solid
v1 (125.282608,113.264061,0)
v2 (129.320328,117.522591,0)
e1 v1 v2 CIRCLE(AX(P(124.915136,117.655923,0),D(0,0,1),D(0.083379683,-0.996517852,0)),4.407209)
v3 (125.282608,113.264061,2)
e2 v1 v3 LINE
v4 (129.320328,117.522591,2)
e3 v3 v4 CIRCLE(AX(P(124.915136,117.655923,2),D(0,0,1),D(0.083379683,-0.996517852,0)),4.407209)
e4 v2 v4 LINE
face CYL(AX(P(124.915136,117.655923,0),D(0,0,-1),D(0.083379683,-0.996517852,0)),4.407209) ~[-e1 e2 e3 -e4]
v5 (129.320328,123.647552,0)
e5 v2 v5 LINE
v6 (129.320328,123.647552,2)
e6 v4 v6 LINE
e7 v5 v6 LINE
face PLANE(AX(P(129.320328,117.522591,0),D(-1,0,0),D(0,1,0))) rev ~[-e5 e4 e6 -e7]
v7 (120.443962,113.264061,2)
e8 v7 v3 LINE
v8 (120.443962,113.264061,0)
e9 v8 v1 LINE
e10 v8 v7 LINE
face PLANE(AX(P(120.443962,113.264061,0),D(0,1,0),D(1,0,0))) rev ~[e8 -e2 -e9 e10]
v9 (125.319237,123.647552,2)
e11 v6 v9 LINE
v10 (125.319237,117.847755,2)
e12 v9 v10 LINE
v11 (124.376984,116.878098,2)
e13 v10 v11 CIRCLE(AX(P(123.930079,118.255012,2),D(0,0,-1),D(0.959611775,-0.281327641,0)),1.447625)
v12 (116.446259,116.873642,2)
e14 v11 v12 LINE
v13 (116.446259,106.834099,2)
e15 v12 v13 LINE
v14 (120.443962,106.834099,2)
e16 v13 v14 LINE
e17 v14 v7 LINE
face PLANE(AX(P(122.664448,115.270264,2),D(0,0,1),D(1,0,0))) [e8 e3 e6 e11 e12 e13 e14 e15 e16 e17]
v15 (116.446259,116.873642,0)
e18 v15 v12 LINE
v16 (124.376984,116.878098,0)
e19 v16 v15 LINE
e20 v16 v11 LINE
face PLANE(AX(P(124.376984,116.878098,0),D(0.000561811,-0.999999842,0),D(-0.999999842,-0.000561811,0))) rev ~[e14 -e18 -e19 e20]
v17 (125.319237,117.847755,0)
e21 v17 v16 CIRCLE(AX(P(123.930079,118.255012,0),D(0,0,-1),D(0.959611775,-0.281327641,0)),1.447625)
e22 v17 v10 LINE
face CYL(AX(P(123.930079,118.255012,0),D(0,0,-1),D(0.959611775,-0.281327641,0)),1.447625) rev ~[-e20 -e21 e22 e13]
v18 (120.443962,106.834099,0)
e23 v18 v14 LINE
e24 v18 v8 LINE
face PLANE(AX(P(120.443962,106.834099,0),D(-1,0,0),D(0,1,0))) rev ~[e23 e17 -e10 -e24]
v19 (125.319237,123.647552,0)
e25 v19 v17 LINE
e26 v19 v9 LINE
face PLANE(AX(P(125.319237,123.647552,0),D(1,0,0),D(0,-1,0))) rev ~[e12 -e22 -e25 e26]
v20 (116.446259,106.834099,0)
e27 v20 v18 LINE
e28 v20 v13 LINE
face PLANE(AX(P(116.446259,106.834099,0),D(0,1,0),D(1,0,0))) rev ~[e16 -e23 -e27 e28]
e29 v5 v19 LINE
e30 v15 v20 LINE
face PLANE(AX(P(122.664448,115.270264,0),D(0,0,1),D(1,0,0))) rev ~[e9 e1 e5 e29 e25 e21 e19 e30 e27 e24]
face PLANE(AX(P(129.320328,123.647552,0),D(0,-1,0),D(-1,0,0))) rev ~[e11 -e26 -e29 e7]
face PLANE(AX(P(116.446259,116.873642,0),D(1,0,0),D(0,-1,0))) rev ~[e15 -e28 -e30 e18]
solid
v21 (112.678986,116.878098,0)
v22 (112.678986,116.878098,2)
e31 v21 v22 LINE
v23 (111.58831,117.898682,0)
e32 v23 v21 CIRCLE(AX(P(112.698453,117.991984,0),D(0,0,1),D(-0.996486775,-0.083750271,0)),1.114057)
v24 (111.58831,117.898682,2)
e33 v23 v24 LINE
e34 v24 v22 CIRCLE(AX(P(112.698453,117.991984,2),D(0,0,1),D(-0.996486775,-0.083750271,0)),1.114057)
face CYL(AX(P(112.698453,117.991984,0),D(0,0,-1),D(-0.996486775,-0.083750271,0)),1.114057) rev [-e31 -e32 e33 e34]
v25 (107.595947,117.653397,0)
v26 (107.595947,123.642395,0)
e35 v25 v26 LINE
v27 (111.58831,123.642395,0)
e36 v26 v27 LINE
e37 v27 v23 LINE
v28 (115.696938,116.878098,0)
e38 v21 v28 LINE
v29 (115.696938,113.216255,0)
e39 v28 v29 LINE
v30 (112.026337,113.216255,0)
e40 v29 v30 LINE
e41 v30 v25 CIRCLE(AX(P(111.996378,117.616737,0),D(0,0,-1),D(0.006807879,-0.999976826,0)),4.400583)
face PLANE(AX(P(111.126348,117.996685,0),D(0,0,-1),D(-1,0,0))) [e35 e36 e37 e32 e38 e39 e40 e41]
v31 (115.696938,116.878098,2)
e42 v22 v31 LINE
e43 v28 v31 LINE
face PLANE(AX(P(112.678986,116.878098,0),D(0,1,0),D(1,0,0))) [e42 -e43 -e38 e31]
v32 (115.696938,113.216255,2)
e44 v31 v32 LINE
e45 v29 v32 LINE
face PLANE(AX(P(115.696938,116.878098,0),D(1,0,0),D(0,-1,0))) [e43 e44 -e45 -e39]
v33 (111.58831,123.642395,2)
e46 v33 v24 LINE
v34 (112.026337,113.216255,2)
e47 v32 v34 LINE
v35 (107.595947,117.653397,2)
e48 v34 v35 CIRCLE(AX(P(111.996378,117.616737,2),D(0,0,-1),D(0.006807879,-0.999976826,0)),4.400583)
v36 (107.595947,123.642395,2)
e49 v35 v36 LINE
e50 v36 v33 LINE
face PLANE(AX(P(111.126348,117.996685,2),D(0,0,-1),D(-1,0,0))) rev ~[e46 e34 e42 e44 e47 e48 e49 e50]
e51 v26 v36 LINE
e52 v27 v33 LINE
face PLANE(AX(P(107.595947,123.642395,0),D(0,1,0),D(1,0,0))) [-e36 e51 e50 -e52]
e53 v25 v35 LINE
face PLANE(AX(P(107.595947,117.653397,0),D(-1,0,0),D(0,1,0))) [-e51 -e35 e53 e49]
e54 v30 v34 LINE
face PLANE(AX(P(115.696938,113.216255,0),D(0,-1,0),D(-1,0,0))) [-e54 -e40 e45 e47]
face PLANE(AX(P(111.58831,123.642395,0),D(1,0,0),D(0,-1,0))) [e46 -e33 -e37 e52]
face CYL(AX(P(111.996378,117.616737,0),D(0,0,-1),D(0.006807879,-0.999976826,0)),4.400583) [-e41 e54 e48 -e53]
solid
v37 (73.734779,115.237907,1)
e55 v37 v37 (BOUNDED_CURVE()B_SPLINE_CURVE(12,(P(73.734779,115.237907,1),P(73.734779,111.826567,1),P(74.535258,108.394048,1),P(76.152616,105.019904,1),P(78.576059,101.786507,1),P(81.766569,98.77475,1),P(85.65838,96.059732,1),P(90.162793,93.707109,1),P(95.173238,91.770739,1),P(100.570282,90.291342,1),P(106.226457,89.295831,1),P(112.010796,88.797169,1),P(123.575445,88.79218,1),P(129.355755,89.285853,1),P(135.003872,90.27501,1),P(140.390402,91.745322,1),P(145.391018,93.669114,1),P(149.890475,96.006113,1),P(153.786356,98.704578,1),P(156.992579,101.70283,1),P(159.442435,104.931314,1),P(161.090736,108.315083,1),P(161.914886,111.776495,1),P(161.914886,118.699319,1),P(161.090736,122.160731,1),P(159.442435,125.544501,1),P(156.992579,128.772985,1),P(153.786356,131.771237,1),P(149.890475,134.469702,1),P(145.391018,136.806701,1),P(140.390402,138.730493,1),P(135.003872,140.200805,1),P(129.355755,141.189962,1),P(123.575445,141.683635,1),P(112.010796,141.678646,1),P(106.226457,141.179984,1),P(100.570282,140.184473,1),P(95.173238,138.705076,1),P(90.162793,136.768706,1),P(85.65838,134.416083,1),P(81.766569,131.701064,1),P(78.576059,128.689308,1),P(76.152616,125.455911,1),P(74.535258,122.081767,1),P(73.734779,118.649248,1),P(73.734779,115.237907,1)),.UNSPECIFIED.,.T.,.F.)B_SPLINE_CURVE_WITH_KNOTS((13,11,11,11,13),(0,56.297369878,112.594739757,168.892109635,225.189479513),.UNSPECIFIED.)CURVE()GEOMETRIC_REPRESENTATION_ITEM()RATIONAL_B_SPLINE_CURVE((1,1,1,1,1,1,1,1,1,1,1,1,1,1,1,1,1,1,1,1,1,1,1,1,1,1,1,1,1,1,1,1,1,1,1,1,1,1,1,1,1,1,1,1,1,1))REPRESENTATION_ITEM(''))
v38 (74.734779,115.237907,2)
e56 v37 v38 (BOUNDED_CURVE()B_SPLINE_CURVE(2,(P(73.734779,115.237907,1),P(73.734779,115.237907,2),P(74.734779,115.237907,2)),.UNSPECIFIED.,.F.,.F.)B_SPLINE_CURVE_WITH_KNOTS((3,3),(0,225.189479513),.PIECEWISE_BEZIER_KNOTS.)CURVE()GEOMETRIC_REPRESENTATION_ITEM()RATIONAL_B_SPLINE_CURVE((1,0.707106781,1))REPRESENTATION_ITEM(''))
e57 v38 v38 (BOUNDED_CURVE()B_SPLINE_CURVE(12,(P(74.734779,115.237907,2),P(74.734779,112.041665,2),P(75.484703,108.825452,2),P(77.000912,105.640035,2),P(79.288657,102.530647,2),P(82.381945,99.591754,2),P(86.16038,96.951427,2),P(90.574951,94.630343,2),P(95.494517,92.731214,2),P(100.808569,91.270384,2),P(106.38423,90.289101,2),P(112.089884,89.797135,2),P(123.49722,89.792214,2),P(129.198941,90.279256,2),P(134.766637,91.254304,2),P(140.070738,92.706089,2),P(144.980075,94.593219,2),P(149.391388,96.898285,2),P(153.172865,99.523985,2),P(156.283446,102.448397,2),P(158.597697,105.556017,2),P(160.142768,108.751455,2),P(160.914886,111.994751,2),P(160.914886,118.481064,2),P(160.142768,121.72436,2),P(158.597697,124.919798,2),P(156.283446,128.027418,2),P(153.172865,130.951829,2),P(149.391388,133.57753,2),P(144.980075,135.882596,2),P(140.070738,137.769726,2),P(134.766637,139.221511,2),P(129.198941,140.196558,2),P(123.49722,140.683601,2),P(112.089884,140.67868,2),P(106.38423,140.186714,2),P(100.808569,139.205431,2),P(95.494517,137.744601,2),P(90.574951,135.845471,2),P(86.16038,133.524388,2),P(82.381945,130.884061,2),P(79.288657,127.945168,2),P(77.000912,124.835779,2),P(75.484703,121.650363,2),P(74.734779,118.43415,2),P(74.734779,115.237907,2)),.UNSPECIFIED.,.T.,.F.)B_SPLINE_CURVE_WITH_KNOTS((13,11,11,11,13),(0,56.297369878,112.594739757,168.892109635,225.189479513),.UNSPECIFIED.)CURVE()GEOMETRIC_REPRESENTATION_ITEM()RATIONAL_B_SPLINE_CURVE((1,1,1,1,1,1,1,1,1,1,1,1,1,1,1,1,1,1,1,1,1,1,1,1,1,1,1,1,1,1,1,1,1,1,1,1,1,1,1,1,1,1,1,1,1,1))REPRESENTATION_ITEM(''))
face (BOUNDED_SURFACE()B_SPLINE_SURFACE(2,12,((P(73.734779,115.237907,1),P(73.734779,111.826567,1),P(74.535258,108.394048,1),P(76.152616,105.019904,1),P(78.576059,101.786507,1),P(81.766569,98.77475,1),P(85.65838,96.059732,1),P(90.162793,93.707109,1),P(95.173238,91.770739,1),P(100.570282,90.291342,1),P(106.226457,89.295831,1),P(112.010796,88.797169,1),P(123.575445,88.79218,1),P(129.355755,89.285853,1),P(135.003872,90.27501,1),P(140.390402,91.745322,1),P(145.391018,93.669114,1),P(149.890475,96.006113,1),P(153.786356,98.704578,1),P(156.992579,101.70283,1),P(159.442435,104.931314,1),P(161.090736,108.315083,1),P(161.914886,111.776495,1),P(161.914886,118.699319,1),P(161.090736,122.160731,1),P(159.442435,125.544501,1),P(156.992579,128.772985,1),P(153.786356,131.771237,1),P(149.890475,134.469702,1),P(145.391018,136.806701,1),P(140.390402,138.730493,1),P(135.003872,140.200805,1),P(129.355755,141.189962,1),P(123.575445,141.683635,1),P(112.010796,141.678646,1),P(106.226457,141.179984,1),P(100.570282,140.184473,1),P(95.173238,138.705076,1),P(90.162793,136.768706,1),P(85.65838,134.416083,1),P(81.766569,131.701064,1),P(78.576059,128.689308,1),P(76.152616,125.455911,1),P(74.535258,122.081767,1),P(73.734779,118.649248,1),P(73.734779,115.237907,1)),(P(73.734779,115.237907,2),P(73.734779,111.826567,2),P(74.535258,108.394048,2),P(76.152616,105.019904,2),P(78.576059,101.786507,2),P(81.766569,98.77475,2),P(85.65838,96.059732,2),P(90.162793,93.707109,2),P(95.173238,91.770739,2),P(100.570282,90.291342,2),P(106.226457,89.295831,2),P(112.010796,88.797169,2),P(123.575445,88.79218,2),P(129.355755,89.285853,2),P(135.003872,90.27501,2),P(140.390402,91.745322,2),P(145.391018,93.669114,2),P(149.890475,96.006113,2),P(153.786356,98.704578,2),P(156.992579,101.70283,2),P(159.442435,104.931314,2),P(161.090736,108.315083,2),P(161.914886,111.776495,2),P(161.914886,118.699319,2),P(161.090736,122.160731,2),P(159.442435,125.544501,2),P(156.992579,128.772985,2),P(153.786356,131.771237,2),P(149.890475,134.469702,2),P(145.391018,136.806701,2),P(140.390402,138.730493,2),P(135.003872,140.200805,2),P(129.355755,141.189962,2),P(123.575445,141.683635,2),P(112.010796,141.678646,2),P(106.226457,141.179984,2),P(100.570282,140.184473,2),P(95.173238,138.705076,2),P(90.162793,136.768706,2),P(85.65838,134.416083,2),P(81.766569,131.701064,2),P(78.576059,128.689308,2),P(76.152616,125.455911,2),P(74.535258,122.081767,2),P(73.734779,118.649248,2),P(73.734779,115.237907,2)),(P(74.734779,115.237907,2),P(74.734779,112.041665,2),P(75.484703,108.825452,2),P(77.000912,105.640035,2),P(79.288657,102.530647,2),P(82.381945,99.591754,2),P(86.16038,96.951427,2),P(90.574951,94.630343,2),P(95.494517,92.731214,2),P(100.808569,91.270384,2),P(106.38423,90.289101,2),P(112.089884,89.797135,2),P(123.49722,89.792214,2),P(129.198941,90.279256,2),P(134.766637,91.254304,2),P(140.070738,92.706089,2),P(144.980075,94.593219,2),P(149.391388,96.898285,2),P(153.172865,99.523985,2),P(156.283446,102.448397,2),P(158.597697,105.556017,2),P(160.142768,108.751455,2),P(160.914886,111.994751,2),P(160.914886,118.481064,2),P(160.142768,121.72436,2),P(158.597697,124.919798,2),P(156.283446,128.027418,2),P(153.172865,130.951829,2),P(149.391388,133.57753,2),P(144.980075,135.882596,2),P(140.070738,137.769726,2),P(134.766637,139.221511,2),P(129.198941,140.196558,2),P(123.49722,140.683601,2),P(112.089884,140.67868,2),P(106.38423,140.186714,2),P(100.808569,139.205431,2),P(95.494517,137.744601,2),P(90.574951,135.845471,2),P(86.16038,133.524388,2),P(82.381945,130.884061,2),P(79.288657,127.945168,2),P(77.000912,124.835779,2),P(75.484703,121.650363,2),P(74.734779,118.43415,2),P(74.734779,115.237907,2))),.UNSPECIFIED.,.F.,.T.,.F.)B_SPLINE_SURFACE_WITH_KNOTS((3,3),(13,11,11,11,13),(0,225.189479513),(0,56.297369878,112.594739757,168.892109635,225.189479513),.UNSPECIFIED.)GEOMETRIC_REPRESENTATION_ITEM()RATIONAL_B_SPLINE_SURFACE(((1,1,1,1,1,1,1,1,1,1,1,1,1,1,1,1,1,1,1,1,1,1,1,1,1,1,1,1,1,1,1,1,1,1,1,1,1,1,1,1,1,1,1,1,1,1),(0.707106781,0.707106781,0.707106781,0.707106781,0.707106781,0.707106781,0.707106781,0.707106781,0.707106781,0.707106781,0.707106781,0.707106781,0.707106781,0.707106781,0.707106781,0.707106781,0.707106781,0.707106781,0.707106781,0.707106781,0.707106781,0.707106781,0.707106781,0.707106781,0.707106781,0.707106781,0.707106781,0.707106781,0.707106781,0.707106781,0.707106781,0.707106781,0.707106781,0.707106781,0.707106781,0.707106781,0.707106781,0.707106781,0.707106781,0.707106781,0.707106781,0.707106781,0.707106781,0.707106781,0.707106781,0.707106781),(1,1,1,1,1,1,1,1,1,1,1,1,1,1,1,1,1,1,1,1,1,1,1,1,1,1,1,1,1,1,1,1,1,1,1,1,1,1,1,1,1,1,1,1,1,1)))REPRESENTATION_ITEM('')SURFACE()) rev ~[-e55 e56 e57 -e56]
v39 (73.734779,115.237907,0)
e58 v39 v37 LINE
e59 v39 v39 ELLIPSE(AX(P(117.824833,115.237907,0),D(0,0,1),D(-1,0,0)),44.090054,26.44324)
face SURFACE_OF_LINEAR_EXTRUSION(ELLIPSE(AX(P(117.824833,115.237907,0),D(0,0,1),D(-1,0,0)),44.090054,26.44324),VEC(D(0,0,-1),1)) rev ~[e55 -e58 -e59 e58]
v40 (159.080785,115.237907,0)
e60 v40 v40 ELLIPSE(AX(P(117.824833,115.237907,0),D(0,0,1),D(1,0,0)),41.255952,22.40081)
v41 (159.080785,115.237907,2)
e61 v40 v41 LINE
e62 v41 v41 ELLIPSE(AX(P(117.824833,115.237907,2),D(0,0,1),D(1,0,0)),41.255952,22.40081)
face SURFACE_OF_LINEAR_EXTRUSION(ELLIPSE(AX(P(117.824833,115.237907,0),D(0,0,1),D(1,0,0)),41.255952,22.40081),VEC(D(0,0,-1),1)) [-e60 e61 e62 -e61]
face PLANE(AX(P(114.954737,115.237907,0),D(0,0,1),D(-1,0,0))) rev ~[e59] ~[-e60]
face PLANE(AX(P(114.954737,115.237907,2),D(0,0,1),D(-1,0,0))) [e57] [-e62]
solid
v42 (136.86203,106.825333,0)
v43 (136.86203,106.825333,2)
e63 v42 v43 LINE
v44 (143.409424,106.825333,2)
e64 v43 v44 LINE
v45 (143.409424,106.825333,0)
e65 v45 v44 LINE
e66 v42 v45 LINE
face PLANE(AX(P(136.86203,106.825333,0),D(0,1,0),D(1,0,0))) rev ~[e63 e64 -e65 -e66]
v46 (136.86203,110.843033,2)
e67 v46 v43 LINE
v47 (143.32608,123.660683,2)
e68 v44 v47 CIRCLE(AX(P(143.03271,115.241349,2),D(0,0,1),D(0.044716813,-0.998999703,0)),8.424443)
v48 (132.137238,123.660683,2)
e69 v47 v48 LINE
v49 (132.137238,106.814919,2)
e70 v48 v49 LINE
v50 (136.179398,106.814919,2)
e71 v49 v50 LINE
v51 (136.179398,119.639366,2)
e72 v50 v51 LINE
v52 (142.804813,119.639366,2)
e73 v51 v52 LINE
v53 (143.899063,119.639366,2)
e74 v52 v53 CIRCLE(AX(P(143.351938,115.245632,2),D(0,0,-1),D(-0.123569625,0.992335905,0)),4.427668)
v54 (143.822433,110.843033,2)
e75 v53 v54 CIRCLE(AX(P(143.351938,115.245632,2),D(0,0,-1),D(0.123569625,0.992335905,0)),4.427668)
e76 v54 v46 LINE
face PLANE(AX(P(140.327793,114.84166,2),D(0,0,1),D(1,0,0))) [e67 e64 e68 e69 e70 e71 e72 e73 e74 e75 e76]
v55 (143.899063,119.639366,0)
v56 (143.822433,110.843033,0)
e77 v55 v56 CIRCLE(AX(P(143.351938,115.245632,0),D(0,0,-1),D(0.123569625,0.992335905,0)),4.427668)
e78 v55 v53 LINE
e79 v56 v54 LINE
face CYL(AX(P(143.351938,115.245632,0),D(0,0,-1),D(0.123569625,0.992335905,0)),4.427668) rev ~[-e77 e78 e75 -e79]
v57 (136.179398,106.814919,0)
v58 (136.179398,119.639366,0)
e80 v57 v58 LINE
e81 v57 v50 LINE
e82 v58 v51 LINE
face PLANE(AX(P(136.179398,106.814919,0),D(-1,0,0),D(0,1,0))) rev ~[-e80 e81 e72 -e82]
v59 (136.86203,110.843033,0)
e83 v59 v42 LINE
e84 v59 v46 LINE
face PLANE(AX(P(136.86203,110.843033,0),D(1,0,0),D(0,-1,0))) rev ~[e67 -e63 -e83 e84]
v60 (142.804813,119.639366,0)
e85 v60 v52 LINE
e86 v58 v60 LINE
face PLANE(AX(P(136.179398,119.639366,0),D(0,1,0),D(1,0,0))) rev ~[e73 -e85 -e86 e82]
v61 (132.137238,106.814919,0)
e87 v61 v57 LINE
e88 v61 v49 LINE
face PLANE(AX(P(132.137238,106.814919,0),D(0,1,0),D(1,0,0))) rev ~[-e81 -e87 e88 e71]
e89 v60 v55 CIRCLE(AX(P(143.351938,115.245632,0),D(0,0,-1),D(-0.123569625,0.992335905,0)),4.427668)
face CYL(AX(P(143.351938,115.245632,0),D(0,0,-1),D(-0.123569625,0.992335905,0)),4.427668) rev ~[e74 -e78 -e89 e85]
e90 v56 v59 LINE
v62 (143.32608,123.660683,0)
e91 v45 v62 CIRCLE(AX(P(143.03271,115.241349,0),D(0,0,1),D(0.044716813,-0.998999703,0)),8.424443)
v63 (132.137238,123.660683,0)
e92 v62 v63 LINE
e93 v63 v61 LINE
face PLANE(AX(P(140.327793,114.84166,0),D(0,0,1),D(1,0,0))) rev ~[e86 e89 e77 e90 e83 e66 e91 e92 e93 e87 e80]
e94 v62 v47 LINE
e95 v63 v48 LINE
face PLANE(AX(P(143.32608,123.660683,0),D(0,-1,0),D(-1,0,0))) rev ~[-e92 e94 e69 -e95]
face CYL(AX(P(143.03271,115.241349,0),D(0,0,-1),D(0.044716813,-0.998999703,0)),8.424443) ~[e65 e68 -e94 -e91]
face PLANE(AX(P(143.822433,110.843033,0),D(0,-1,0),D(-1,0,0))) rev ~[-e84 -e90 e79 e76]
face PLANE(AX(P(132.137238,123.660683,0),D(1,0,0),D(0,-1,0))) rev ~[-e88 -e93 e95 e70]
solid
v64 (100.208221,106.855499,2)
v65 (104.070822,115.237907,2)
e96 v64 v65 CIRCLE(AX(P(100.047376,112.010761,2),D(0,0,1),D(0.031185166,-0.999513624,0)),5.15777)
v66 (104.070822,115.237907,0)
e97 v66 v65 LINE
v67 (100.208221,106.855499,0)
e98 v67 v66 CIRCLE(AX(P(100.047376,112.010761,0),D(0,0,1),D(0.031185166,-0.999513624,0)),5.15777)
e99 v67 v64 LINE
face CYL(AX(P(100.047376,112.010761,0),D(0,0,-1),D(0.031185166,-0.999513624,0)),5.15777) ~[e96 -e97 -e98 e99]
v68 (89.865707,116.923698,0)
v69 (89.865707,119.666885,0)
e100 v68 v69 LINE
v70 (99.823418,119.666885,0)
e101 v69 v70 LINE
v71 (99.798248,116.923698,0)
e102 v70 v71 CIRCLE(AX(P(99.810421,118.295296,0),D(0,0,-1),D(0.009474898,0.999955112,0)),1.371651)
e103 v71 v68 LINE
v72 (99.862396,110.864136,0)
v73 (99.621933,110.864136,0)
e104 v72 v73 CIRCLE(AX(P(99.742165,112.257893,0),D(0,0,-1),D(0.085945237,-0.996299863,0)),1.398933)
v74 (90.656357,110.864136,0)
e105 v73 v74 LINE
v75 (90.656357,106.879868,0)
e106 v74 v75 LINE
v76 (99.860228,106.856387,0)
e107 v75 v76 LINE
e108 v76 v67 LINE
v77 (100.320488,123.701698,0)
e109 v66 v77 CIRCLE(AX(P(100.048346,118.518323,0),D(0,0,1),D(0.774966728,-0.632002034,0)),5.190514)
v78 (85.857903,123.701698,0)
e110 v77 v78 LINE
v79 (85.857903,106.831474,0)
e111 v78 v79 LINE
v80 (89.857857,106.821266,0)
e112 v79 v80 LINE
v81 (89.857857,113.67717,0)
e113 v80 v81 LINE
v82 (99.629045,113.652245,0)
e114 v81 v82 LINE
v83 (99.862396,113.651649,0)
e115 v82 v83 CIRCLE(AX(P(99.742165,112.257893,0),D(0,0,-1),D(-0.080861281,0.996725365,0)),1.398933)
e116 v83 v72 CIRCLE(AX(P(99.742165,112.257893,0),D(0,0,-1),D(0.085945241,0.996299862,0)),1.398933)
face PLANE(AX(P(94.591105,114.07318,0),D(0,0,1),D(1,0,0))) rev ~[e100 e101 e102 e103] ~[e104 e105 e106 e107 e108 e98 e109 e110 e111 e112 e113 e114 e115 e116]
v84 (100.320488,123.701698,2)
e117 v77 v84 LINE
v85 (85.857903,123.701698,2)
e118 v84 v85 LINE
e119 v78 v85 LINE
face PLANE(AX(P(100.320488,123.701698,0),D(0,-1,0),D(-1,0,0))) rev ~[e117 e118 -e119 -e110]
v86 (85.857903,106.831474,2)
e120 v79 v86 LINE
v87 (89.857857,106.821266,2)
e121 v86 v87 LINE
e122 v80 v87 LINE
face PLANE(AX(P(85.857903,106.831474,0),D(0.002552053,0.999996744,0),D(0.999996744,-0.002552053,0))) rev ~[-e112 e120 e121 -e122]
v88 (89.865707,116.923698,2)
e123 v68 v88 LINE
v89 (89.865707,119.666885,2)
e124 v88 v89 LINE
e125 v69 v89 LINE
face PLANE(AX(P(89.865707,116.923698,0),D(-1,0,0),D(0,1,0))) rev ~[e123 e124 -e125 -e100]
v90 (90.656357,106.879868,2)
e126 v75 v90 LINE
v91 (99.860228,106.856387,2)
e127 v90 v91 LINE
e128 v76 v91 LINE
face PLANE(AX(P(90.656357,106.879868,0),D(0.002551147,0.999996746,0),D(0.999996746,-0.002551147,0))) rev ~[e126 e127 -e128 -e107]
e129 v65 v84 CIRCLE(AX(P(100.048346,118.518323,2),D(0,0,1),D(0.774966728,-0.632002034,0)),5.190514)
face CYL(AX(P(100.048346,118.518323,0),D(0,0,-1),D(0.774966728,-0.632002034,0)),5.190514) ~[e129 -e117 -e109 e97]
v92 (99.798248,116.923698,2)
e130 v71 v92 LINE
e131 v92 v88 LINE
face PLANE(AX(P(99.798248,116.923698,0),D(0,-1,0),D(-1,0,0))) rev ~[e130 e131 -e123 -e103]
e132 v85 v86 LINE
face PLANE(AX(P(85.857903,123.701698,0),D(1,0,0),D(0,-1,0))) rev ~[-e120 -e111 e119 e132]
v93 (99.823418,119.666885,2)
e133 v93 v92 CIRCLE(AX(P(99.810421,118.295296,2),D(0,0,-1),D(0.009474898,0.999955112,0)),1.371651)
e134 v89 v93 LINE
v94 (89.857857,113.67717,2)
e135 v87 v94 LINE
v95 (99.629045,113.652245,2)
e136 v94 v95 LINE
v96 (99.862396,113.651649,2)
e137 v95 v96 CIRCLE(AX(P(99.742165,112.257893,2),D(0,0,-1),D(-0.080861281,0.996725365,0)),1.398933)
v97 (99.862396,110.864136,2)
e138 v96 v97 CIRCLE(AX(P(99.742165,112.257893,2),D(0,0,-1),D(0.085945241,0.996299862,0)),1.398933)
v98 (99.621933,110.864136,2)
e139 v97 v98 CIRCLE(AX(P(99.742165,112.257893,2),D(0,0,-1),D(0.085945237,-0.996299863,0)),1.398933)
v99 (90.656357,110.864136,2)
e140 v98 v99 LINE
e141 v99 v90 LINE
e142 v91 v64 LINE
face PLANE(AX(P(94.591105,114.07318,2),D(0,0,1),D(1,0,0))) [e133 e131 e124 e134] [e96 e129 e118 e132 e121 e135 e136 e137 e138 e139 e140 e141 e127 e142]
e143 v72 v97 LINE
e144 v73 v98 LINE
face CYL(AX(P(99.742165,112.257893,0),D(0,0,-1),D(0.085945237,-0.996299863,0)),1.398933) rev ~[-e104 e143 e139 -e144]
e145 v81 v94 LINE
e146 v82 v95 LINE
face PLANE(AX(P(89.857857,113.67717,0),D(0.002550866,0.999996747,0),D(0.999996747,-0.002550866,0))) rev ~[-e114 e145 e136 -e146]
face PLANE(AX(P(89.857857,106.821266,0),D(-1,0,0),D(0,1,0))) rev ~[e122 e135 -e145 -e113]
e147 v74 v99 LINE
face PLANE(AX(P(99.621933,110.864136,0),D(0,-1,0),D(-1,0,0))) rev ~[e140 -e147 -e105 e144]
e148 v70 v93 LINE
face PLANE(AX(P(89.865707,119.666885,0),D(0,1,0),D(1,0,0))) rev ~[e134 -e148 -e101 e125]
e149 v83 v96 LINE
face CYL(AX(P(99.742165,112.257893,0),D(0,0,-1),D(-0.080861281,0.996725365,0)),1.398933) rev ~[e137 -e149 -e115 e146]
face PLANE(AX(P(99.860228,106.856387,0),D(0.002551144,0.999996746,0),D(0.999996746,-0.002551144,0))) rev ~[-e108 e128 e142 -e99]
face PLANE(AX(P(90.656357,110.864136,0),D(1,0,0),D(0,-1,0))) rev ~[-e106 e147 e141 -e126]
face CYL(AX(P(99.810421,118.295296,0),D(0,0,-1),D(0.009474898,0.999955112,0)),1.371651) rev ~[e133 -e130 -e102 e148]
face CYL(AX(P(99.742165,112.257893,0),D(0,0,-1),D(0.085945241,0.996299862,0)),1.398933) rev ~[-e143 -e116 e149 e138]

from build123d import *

# Parameters (mm, degrees)
SKETCH_3_RX       = 44.090053558
SKETCH_3_RY       = 26.443239621
SKETCH_3_RX_2     = 41.255952368
SKETCH_3_RY_2     = 22.400810242
EXTRUDE_1_DEPTH   = 2
EXTRUDE_1_2_DEPTH = 2
EXTRUDE_1_3_DEPTH = 2
EXTRUDE_1_4_DEPTH = 2
EXTRUDE_1_5_DEPTH = 2
FILLET_1_R        = 1


with BuildPart() as part:
    # 草图3 → 凸台-拉伸1 (new body)
    with BuildSketch(Plane.XY):
        with Locations(Location((117.824832916, 115.23790741), (0, 0, 180))):
            Ellipse(SKETCH_3_RX, SKETCH_3_RY)
        with Locations((117.824832916, 115.23790741)):
            Ellipse(SKETCH_3_RX_2, SKETCH_3_RY_2, mode=Mode.SUBTRACT)
    extrude(amount=EXTRUDE_1_DEPTH)

    # 圆角1
    fillet_1_edges = [part.edges().sort_by_distance(p)[0] for p in [
        (161.914770663, 115.298516103, 2),
    ]]
    fillet(fillet_1_edges, radius=FILLET_1_R)


with BuildPart() as body_2:
    # 草图3 → Extrude 1 2 (new body)
    with BuildSketch(Plane.XY):
        with BuildLine():
            Line((100.320487976, 123.701698303), (85.857902527, 123.701698303))
            Line((85.857902527, 123.701698303), (85.857902527, 106.831474304))
            Line((85.857902527, 106.831474304), (89.85785675, 106.821266174))
            Line((89.85785675, 106.821266174), (89.85785675, 113.6771698))
            Line((89.85785675, 113.6771698), (99.629045068, 113.652244725))
            ThreePointArc((99.629045068, 113.652244725), (99.745733087, 113.656821169), (99.86239624, 113.651649475))
            ThreePointArc((99.86239624, 113.651649475), (101.141097708, 112.257892609), (99.86239624, 110.864135742))
            ThreePointArc((99.86239624, 110.864135742), (99.742164596, 110.858959497), (99.621932952, 110.864135742))
            Line((99.621932952, 110.864135742), (90.656356812, 110.864135742))
            Line((90.656356812, 110.864135742), (90.656356812, 106.879867554))
            Line((90.656356812, 106.879867554), (99.860228116, 106.856387052))
            Line((99.860228116, 106.856387052), (100.208221436, 106.855499268))
            ThreePointArc((100.208221436, 106.855499268), (104.731739573, 109.852213429), (104.070821683, 115.23790741))
            ThreePointArc((104.070821683, 115.23790741), (104.793856796, 120.621074732), (100.320487976, 123.701698303))
        make_face()
        with BuildLine():
            Line((89.865707397, 116.923698425), (89.865707397, 119.666885376))
            Line((89.865707397, 119.666885376), (99.797425153, 119.666885376))
            Line((99.797425153, 119.666885376), (99.823417664, 119.666885376))
            ThreePointArc((99.823417664, 119.666885376), (101.182014946, 118.28271099), (99.798248291, 116.923698425))
            Line((99.798248291, 116.923698425), (89.865707397, 116.923698425))
        make_face(mode=Mode.SUBTRACT)
    extrude(amount=EXTRUDE_1_2_DEPTH)


with BuildPart() as body_3:
    # 草图3 → Extrude 1 3 (new body)
    with BuildSketch(Plane.XY):
        with BuildLine():
            ThreePointArc((111.588310242, 117.898681641), (111.937267918, 117.178522683), (112.678985596, 116.878097534))
            Line((112.678985596, 116.878097534), (115.696937561, 116.878097534))
            Line((115.696937561, 116.878097534), (115.696937561, 113.216255188))
            Line((115.696937561, 113.216255188), (112.02633667, 113.216255188))
            ThreePointArc((112.02633667, 113.216255188), (108.882327189, 114.5074245), (107.595947266, 117.653396606))
            Line((107.595947266, 117.653396606), (107.595947266, 123.64239502))
            Line((107.595947266, 123.64239502), (111.588310242, 123.64239502))
            Line((111.588310242, 123.64239502), (111.588310242, 117.898681641))
        make_face()
    extrude(amount=EXTRUDE_1_3_DEPTH)


with BuildPart() as body_4:
    # 草图3 → Extrude 1 4 (new body)
    with BuildSketch(Plane.XY):
        with BuildLine():
            Line((124.547664698, 113.264060974), (125.282608032, 113.264060974))
            ThreePointArc((125.282608032, 113.264060974), (128.113315049, 114.623573913), (129.320327759, 117.522590637))
            Line((129.320327759, 117.522590637), (129.320327759, 123.64755249))
            Line((129.320327759, 123.64755249), (125.319236755, 123.64755249))
            Line((125.319236755, 123.64755249), (125.319236755, 117.847755432))
            ThreePointArc((125.319236755, 117.847755432), (124.968269871, 117.246162802), (124.376983643, 116.878097534))
            Line((124.376983643, 116.878097534), (116.446258545, 116.873641968))
            Line((116.446258545, 116.873641968), (116.446258545, 106.834098816))
            Line((116.446258545, 106.834098816), (120.443962097, 106.834098816))
            Line((120.443962097, 106.834098816), (120.443962097, 113.264060974))
            Line((120.443962097, 113.264060974), (124.547664698, 113.264060974))
        make_face()
    extrude(amount=EXTRUDE_1_4_DEPTH)


with BuildPart() as body_5:
    # 草图3 → Extrude 1 5 (new body)
    with BuildSketch(Plane.XY):
        with BuildLine():
            ThreePointArc((143.89906311, 119.63936615), (147.779438013, 115.207061658), (143.822433472, 110.843032837))
            Line((143.822433472, 110.843032837), (136.862030029, 110.843032837))
            Line((136.862030029, 110.843032837), (136.862030029, 106.825332642))
            Line((136.862030029, 106.825332642), (143.409423828, 106.825332642))
            ThreePointArc((143.409423828, 106.825332642), (151.457049674, 115.283053778), (143.326080322, 123.660682678))
            Line((143.326080322, 123.660682678), (132.137237549, 123.660682678))
            Line((132.137237549, 123.660682678), (132.137237549, 106.814918518))
            Line((132.137237549, 106.814918518), (136.179397583, 106.814918518))
            Line((136.179397583, 106.814918518), (136.179397583, 119.63936615))
            Line((136.179397583, 119.63936615), (142.804812511, 119.63936615))
            ThreePointArc((142.804812511, 119.63936615), (143.351937811, 119.673300221), (143.89906311, 119.63936615))
        make_face()
    extrude(amount=EXTRUDE_1_5_DEPTH)


solid = Compound([part.part, body_2.part, body_3.part, body_4.part, body_5.part])
